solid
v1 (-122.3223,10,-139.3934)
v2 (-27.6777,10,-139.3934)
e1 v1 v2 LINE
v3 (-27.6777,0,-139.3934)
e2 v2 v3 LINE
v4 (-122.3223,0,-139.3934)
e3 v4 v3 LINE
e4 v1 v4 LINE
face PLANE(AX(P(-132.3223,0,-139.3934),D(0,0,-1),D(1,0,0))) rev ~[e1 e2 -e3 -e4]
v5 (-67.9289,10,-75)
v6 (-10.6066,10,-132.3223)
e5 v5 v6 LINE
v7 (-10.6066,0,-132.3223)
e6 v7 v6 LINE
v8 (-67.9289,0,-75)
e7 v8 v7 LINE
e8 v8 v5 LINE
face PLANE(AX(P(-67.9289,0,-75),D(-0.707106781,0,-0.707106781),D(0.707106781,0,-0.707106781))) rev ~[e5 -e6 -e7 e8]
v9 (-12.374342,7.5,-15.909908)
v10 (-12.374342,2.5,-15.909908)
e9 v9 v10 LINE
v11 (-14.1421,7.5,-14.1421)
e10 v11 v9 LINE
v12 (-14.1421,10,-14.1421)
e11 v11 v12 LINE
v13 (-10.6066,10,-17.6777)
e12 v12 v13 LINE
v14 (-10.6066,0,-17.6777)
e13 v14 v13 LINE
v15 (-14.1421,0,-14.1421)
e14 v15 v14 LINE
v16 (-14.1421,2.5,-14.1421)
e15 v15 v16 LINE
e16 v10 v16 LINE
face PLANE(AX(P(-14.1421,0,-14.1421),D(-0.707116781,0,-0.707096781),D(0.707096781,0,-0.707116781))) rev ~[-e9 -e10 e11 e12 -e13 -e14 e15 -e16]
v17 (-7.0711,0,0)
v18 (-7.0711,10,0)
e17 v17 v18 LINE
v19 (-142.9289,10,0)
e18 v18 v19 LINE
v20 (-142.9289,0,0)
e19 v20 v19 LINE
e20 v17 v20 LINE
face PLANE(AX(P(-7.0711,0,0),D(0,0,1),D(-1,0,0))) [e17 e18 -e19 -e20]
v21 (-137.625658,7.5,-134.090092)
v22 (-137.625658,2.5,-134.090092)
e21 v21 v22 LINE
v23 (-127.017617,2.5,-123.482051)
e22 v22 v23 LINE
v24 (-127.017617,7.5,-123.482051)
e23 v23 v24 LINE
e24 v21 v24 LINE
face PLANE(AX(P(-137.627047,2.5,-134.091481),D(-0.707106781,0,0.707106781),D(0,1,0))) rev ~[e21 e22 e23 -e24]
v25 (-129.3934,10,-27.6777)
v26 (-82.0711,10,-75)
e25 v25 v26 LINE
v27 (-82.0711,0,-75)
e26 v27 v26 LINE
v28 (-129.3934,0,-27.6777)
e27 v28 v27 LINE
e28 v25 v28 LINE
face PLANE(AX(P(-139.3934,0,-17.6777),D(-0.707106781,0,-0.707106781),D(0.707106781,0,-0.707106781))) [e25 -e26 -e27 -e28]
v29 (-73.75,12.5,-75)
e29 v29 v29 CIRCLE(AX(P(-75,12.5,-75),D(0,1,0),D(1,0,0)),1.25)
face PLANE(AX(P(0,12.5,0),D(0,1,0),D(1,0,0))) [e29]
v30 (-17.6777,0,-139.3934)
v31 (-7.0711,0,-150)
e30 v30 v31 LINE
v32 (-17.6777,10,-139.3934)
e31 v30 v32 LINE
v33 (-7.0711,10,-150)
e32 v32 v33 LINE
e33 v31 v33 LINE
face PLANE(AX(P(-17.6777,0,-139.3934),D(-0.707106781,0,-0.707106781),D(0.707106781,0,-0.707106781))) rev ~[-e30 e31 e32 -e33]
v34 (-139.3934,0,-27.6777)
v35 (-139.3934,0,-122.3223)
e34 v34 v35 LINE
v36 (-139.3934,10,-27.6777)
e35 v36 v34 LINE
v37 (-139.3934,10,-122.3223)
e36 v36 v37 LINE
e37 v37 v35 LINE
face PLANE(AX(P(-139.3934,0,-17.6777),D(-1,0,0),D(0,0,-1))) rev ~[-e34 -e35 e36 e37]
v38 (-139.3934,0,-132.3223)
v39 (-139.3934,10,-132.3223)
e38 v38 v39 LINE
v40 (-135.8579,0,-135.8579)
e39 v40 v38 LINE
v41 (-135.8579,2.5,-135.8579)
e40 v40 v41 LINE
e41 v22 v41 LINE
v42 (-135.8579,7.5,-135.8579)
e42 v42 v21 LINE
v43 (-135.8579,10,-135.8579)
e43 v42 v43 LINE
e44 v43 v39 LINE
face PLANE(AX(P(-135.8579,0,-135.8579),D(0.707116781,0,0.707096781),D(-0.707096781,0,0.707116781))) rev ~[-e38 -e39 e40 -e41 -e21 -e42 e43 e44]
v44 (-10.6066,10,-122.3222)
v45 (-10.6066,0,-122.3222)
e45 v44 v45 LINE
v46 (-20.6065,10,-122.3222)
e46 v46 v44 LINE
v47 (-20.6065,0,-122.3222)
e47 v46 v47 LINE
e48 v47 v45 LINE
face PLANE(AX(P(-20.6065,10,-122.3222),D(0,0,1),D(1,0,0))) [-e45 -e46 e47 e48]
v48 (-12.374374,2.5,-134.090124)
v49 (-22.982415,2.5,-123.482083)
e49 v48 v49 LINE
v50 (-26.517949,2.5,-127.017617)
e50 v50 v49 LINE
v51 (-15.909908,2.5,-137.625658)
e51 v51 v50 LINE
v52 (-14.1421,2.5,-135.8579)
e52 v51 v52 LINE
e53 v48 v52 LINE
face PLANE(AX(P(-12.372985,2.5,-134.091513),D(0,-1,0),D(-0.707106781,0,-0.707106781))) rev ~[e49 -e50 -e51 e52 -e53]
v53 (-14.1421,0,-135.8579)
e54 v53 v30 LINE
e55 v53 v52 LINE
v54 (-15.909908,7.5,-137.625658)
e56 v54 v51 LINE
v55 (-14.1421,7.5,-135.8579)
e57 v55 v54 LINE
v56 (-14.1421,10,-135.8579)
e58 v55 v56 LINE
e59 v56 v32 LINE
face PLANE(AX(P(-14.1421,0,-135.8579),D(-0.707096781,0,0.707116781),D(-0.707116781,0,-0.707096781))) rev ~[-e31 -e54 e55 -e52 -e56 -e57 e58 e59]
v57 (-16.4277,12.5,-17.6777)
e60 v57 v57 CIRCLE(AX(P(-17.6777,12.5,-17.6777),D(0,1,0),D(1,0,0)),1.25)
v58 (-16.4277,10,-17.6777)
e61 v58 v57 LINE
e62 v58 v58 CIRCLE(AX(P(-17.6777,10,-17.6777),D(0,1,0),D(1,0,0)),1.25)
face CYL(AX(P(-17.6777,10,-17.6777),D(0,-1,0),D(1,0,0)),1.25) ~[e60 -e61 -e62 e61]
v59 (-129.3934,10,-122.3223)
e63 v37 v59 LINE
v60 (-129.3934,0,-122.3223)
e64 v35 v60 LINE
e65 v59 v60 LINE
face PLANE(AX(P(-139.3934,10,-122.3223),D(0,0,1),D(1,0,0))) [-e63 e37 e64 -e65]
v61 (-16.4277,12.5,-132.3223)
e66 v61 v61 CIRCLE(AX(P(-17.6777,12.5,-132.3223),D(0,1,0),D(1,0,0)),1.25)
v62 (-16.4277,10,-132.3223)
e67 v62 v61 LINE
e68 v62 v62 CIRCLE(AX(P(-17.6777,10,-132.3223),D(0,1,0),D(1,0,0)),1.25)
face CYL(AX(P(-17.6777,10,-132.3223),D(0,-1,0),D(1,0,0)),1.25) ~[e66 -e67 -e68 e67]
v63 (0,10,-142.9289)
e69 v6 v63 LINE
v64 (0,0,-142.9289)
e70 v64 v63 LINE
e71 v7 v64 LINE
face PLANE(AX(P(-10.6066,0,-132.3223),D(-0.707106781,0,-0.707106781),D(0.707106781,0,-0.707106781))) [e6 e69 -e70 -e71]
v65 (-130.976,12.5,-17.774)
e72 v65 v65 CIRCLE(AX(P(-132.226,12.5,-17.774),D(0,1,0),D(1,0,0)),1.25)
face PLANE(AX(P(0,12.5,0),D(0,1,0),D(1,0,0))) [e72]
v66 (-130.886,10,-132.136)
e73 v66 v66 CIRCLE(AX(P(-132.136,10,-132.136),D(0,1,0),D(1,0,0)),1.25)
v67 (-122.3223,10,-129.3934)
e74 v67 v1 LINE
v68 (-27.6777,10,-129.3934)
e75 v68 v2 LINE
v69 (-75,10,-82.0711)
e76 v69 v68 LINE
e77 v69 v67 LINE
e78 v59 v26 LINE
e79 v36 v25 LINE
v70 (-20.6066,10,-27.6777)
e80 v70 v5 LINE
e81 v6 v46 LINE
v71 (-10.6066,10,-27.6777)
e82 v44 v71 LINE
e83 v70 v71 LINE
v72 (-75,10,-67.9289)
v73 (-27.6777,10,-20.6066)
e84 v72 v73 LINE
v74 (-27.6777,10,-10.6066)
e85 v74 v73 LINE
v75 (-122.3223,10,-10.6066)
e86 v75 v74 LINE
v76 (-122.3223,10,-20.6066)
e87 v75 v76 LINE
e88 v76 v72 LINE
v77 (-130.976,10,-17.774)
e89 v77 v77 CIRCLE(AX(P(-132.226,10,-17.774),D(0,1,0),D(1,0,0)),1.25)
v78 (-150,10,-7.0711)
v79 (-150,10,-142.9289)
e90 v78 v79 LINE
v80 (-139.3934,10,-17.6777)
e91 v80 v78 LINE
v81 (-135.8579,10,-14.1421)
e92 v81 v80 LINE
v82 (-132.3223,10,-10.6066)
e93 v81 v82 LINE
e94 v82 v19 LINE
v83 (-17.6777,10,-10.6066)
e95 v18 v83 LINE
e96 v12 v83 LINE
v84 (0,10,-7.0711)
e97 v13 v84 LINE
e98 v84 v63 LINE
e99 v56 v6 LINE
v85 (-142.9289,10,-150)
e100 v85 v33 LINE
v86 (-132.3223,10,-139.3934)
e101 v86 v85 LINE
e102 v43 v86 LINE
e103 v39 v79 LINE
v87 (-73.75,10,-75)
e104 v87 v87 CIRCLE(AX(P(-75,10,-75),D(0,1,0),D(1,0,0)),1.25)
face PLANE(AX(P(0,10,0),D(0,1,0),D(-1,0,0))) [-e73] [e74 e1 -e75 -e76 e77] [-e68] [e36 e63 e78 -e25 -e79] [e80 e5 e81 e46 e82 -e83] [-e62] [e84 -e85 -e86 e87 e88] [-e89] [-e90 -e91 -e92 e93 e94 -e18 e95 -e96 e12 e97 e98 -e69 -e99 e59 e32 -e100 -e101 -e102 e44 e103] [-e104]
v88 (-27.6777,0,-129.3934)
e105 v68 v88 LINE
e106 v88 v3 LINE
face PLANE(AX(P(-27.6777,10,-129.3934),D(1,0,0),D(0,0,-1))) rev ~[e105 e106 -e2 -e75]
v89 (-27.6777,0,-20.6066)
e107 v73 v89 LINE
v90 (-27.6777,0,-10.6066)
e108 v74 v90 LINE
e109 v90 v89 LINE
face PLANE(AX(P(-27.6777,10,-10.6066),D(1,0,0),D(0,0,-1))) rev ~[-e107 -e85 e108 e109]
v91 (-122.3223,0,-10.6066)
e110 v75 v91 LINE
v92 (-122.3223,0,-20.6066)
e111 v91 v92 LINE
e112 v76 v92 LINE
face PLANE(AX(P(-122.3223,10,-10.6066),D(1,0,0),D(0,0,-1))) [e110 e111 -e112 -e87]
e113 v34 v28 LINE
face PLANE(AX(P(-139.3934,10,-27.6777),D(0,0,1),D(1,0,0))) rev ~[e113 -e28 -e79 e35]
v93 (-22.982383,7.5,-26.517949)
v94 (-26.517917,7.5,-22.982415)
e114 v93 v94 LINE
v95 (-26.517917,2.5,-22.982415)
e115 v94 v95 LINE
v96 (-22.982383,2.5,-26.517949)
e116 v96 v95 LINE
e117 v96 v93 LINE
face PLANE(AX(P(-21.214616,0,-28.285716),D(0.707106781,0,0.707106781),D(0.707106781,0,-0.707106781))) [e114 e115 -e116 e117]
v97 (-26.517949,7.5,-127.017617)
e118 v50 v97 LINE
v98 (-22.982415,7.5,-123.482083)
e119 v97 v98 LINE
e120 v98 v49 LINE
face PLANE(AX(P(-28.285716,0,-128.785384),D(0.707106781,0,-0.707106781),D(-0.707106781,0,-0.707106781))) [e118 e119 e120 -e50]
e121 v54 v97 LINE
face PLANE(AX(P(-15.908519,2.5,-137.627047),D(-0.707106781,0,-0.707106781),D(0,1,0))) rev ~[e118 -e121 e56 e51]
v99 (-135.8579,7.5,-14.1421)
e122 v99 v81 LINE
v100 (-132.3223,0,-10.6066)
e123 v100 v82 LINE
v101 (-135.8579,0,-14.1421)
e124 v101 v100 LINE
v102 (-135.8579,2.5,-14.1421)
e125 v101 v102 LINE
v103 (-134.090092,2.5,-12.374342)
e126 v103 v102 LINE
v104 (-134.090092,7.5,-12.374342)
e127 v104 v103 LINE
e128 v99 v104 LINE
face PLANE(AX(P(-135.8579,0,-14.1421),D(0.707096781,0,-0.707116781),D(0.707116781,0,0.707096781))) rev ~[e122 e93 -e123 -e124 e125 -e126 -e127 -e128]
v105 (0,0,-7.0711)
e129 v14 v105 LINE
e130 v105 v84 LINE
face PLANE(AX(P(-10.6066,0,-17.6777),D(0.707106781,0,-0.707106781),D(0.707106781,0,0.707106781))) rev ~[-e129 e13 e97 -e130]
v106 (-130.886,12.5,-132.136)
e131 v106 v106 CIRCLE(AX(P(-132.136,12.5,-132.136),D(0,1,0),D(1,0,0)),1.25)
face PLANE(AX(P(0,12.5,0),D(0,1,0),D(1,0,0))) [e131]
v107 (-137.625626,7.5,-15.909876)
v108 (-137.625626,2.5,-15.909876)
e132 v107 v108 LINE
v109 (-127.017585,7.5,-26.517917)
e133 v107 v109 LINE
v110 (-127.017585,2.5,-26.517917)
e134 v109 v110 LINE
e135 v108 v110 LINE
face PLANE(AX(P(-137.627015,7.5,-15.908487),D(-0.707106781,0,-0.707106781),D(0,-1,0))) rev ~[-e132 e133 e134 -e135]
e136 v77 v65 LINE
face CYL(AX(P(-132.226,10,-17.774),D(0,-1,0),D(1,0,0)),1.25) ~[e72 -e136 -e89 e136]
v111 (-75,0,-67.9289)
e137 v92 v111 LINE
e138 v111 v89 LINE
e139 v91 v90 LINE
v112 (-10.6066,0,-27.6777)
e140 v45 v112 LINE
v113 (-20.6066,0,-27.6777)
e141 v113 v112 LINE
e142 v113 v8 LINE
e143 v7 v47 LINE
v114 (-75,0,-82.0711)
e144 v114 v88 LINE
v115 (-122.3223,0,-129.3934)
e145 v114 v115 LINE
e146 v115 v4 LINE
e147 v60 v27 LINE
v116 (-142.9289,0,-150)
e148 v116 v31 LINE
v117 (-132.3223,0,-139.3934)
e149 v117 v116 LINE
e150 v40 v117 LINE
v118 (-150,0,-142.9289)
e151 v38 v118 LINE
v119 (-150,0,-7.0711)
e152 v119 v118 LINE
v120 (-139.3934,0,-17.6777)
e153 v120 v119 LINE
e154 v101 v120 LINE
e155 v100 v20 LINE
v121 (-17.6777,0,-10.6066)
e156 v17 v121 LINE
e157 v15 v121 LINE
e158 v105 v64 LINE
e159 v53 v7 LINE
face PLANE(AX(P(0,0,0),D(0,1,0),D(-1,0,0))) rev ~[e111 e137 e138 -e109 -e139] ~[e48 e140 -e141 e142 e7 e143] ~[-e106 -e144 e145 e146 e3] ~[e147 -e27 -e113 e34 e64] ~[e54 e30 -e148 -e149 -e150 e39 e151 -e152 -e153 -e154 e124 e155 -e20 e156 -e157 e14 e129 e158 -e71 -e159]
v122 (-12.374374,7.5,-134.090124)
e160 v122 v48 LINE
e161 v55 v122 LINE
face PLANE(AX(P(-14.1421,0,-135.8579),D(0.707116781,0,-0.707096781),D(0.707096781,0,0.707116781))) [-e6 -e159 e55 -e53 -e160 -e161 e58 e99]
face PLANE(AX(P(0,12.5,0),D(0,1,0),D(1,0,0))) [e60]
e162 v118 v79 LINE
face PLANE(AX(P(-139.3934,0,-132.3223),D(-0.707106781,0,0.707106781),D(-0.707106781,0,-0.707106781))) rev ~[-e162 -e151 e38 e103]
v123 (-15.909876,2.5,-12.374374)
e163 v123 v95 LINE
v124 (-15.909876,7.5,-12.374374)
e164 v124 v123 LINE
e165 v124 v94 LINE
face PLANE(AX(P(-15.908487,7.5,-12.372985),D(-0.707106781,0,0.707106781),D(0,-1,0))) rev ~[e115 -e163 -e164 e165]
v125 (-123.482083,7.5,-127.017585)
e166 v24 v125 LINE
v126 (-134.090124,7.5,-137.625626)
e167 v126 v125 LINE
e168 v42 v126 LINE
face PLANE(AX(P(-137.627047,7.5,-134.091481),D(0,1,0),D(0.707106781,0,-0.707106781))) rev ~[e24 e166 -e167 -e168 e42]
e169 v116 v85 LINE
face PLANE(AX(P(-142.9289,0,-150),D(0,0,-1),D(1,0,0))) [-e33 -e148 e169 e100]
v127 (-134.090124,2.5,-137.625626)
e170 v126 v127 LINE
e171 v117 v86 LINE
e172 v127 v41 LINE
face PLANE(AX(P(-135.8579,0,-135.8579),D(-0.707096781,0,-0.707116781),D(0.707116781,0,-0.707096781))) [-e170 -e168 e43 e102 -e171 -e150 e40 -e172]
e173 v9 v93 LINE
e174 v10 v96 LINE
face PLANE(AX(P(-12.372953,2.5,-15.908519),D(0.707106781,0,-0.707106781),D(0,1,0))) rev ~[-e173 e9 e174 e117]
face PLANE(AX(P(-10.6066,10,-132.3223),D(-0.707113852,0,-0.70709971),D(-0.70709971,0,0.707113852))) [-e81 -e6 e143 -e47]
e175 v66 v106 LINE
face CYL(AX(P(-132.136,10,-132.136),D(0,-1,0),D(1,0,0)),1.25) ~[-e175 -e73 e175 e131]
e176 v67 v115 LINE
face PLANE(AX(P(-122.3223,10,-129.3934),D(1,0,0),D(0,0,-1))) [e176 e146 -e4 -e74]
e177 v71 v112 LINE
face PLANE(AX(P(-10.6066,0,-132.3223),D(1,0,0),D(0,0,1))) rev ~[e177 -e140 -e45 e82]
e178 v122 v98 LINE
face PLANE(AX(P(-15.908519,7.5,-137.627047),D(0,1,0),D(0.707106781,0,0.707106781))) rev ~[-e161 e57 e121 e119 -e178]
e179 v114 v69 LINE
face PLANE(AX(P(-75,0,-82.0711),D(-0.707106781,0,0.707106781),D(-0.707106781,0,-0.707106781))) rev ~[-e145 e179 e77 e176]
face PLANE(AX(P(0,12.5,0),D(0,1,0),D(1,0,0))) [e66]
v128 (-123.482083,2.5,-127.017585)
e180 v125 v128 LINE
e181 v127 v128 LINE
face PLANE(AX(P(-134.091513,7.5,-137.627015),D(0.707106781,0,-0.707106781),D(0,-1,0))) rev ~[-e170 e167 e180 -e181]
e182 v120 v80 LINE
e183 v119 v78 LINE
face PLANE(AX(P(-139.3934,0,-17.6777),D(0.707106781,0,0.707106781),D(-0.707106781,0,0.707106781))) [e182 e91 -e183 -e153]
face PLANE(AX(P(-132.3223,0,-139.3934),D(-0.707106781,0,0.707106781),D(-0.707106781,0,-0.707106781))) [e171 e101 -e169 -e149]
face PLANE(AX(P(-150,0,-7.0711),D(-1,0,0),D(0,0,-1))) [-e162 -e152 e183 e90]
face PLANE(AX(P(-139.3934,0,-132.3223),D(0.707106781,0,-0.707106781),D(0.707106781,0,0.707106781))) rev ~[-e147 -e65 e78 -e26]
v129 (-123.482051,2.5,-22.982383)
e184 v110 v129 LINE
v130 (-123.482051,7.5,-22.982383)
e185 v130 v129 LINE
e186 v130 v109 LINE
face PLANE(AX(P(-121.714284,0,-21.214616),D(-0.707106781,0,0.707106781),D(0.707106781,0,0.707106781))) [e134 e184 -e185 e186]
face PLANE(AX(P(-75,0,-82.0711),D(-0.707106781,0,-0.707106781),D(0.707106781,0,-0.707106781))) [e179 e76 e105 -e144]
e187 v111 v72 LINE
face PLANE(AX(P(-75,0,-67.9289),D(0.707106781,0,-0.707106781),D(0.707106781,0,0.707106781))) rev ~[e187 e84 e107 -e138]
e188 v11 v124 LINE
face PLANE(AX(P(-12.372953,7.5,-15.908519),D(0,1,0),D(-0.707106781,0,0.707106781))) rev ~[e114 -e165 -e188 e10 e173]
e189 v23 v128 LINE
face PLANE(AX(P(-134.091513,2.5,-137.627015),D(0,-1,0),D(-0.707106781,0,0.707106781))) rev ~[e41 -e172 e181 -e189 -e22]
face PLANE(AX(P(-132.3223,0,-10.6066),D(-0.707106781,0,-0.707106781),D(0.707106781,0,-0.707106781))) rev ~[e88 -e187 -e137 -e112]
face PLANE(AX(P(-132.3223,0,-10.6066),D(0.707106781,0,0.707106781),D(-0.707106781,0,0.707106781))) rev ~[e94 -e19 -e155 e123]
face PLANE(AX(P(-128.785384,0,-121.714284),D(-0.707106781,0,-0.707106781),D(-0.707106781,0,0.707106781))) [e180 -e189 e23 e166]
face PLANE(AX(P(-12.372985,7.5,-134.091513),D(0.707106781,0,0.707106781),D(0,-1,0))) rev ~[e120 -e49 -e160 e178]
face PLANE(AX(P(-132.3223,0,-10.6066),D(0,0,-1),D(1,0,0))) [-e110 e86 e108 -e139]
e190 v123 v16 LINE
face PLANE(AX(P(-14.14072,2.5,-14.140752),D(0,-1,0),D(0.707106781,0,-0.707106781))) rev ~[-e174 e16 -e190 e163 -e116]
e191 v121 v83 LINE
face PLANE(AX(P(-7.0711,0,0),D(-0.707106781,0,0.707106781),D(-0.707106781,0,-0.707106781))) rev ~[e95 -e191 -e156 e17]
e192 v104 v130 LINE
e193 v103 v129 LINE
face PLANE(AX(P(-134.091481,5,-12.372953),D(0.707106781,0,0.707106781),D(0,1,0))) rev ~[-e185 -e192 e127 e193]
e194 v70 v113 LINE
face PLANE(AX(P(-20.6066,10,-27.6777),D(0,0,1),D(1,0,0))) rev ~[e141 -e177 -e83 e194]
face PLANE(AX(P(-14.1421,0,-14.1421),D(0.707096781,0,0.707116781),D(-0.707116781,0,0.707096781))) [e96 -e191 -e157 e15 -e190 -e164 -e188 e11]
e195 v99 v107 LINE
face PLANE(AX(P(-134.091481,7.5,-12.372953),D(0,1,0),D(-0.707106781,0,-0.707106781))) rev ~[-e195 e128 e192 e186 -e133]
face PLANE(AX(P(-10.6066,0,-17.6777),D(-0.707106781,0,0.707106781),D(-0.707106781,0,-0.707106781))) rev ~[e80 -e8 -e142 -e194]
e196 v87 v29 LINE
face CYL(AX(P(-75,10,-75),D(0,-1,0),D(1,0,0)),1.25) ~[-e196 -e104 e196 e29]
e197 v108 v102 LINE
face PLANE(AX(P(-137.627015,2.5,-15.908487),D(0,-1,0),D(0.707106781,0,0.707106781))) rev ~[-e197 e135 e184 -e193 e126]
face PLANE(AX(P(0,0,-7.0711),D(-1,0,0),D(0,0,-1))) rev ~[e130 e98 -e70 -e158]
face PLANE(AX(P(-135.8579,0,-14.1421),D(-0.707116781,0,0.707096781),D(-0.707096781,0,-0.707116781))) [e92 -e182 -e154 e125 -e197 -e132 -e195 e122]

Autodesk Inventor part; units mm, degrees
ref_plane "YZ Plane" through (0, 0, 0) normal (1, 0, 0) x (0, 1, 0)
ref_plane "XZ Plane" through (0, 0, 0) normal (0, 1, 0) x (-1, 0, 0)
ref_plane "XY Plane" through (0, 0, 0) normal (0, 0, 1) x (1, 0, 0)
sketch "Sketch1" plane through (0, 0, 0) normal (0, 1, 0) x (-1, 0, 0)
  line L0 (0, -7.0711) -> (0, -142.9289)
  line L1 (7.0711, 0) -> (142.9289, 0)
  line L2 (150, -7.0711) -> (150, -142.9289)
  line L3 (142.9289, -150) -> (7.0711, -150)
  line L4 (139.3934, -10.6066) -> (135.8579, -14.1421)
  line L5 (135.8579, -14.1421) -> (132.3223, -10.6066)
  line L6 (132.3223, -10.6066) -> (135.8579, -14.1421)
  line L7 (135.8579, -14.1421) -> (139.3934, -17.6777)
  line L8 (139.3934, -17.6777) -> (150, -7.0711)
  line L9 (132.3223, -10.6066) -> (142.9289, 0)
  line L10 (139.3934, -139.3934) -> (135.8579, -135.8579)
  line L11 (135.8579, -135.8579) -> (132.3223, -139.3934)
  line L12 (132.3223, -139.3934) -> (142.9289, -150)
  line L13 (135.8579, -135.8579) -> (139.3934, -132.3223)
  line L14 (139.3934, -132.3223) -> (150, -142.9289)
  line L15 (10.6066, -139.3934) -> (14.1421, -135.8579)
  line L16 (14.1421, -135.8579) -> (10.6066, -132.3223)
  line L17 (10.6066, -132.3223) -> (14.1421, -135.8579)
  line L18 (14.1421, -135.8579) -> (17.6777, -139.3934)
  line L19 (17.6777, -139.3934) -> (7.0711, -150)
  line L20 (10.6066, -132.3223) -> (0, -142.9289)
  line L21 (10.6066, -10.6066) -> (14.1421, -14.1421)
  line L22 (14.1421, -14.1421) -> (10.6066, -17.6777)
  line L23 (10.6066, -17.6777) -> (14.1421, -14.1421)
  line L24 (14.1421, -14.1421) -> (17.6777, -10.6066)
  line L25 (7.0711, 0) -> (17.6777, -10.6066)
  line L26 (10.6066, -17.6777) -> (0, -7.0711)
  line L27 (132.3223, -10.6066) -> (75, -67.9289)
  line L28 (67.9289, -75) -> (10.6066, -132.3223)
  line L29 (132.3223, -10.6066) -> (17.6777, -10.6066)
  line L30 (139.3934, -17.6777) -> (139.3934, -132.3223)
  line L31 (132.3223, -139.3934) -> (17.6777, -139.3934)
  line L32 (10.6066, -132.3223) -> (10.6066, -17.6777)
  line L33 (139.3934, -10.6066) -> (135.8579, -14.1421)
  line L34 (14.1421, -135.8579) -> (0, -150)
  line L35 (10.6066, -10.6066) -> (14.1421, -14.1421)
  line L36 (135.8579, -135.8579) -> (139.3934, -139.3934)
  line L37 (139.3934, -132.3223) -> (82.0711, -75)
  line L38 (75, -67.9289) -> (17.6777, -10.6066)
  line L39 (10.6066, -17.6777) -> (67.9289, -75)
  line L40 (75, -82.0711) -> (132.3223, -139.3934)
  line L41 (139.3934, -17.6777) -> (82.0711, -75)
  line L42 (75, -82.0711) -> (17.6777, -139.3934)
  point P0 (0, 0)
  dimension "d0" = 150
extrude "Extrusion1" add sketch "Sketch1" along normal blind 10 contours L26 L32 L20 L0 | L22 L24 L38 L27 L5 L7 L41 L37 L13 L11 L40 L42 L18 L16 L28 L39 | L25 L1 L9 L29 | L31 L12 L3 L19 | L8 L2 L14 L30
sketch "Sketch2" plane through (0, 10, 0) normal (0, 1, 0) x (1, 0, 0)
  line L0 (-17.6777, 10.6066) -> (-27.6777, 10.6066)
  line L1 (-17.6777, 10.6066) -> (-132.3223, 10.6066) projected
  line L2 (-27.6777, 10.6066) -> (-27.6777, 20.6066)
  line L3 (-75, 67.9289) -> (-17.6777, 10.6066) projected
  line L4 (-10.6066, 17.6777) -> (-67.9289, 75) projected
  line L5 (-20.6066, 27.6777) -> (-10.6066, 27.6777)
  line L6 (-10.6066, 27.6777) -> (-10.6066, 17.6777)
  line L7 (-10.6066, 132.3223) -> (-10.6066, 17.6777) projected
  line L8 (-132.3223, 10.6066) -> (-75, 67.9289) projected
  line L9 (-132.3223, 10.6066) -> (-122.3223, 10.6066)
  line L10 (-122.3223, 10.6066) -> (-122.3223, 20.6066)
  line L11 (-122.3223, 20.6066) -> (-129.3934, 27.6777)
  line L12 (-82.0711, 75) -> (-139.3934, 17.6777) projected
  line L13 (-139.3934, 27.6777) -> (-129.3934, 27.6777)
  line L14 (-139.3934, 17.6777) -> (-139.3934, 132.3223) projected
  line L15 (-139.3934, 27.6777) -> (-139.3934, 17.6777)
  line L16 (-139.3934, 17.6777) -> (-129.3934, 27.6777)
  line L17 (-132.3223, 10.6066) -> (-122.3223, 20.6066)
  line L18 (-139.3934, 132.3223) -> (-139.3934, 122.3223)
  line L19 (-139.3934, 122.3223) -> (-129.3934, 122.3223)
  line L20 (-139.3934, 132.3223) -> (-82.0711, 75) projected
  line L21 (-129.3934, 122.3223) -> (-122.3223, 129.3934)
  line L22 (-75, 82.0711) -> (-132.3223, 139.3934) projected
  line L23 (-122.3223, 129.3934) -> (-122.3223, 139.3934)
  line L24 (-132.3223, 139.3934) -> (-17.6777, 139.3934) projected
  line L25 (-122.3223, 139.3934) -> (-132.3223, 139.3934)
  line L26 (-17.6777, 139.3934) -> (-75, 82.0711) projected
  line L27 (-17.6777, 139.3934) -> (-27.6777, 139.3934)
  line L28 (-27.6777, 129.3934) -> (-27.6777, 139.3934)
  line L29 (-27.6777, 129.3934) -> (-20.6065, 122.3222)
  line L30 (-20.6065, 122.3222) -> (-10.6066, 122.3222)
  line L31 (-10.6066, 132.3223) -> (-20.6065, 122.3222)
  line L32 (-10.6066, 17.6777) -> (-20.6066, 27.6777)
  line L33 (-27.6777, 20.6066) -> (-17.6777, 10.6066)
  line L34 (-10.6066, 17.6777) -> (-10.6066, 27.6777)
  line L35 (-20.6066, 27.6777) -> (-10.6066, 17.6777)
  point P0 (0, 0)
  dimension "d9" = 10
  dimension "d10" = 10
  dimension "d11" = 10
extrude "Extrusion2" add sketch "Sketch2" against normal blind 10 contours L6 L4 L5 | L31 L7 L30 | L22 L24 L23 | L12 L14 L13 | L0 L2 L3 | L1 L8 L10 | L19 L14 L20 | L28 L24 L26
sketch "Sketch3" plane through (0, 10, 0) normal (0, 1, 0) x (1, 0, 0)
  line L0 (-67.9289, 75) -> (-10.6066, 132.3223) projected
  line L1 (-82.0711, 75) -> (-75, 67.9289)
  circle A0 centre (-75, 75) radius 1.25
  line L2 (-75, 82.0711) -> (-122.3223, 129.3934) projected
  line L3 (-82.0711, 75) -> (-129.3934, 27.6777) projected
  line L4 (-17.6777, 10.6066) -> (-10.6066, 17.6777) projected
  line L5 (-14.1421, 14.1421) -> (-17.6777, 10.6066)
  line L6 (-17.6777, 10.6066) -> (-14.1421, 14.1421)
  line L7 (-14.1421, 14.1421) -> (-17.6777, 10.6066)
  line L8 (-20.6066, 27.6777) -> (-67.9289, 75) projected
  line L9 (-10.6066, 132.3223) -> (-17.6777, 139.3934) projected
  circle A1 centre (-132.226, 17.774) radius 1.25
  circle A2 centre (-132.136, 132.136) radius 1.25
  circle A3 centre (-17.6777, 132.3223) radius 1.25
  circle A4 centre (-17.6777, 17.6777) radius 1.25
  point P0 (0, 0)
  dimension "d14" = 2.5
  dimension "d21" = 2.5
extrude "Extrusion3" add sketch "Sketch3" along normal blind 2.5
sketch "Sketch4" plane through (-10.6066, 0, -17.6777) normal (0.7071, 0, 0.7071) x (0.7071, 0, -0.7071)
  line L0 (-5, 0) -> (-5, 2.5)
  line L1 (-5, 2.5) -> (-2.5, 2.5)
  line L2 (-2.5, 2.5) -> (-2.5, 7.5)
  line L3 (-2.5, 7.5) -> (-7.5, 7.5)
  line L4 (-7.5, 7.5) -> (-7.5, 2.5)
  line L5 (-7.5, 2.5) -> (-5, 2.5)
  dimension "d25" = 2.5
  dimension "d26" = 2.5
  dimension "d27" = 5
  dimension "d28" = 5
extrude "Extrusion4" cut sketch "Sketch4" against normal blind 15
sketch "Sketch5" plane through (-132.3223, 0, -10.6066) normal (-0.7071, 0, 0.7071) x (0.7071, 0, 0.7071)
  line L0 (0, 0) -> (0, 10) projected
  line L1 (0, 0) -> (0, 5)
  line L2 (0, 5) -> (-2.5, 5)
  line L3 (-2.5, 5) -> (0, 5)
  line L4 (-2.5, 5) -> (-2.5, 7.5)
  line L5 (-2.5, 7.5) -> (-7.5, 7.5)
  line L6 (-7.5, 7.5) -> (-7.5, 2.5)
  line L7 (-7.5, 2.5) -> (-2.5, 2.5)
  line L8 (-2.5, 2.5) -> (-2.5, 5)
  point P0 (101.066, 0)
  dimension "d31" = 5
  dimension "d32" = 2.5
  dimension "d33" = 2.5
  dimension "d34" = 5
extrude "Extrusion5" cut sketch "Sketch5" against normal blind 15
sketch "Sketch6" plane through (-139.3934, 0, -132.3223) normal (-0.7071, 0, -0.7071) x (-0.7071, 0, 0.7071)
  line L0 (-5, 0) -> (-5, 2.5)
  line L1 (-7.5, 2.5) -> (-2.5, 2.5) projected
  line L2 (-5, 2.5) -> (-2.5, 2.5)
  line L3 (-2.5, 2.5) -> (-2.5, 7.5) projected
  line L4 (-2.5, 2.5) -> (-2.5, 7.5)
  line L5 (-2.5, 7.5) -> (-7.5, 7.5) projected
  line L6 (-2.5, 7.5) -> (-7.5, 7.5)
  line L7 (-7.5, 7.5) -> (-7.5, 2.5)
  line L8 (-7.5, 2.5) -> (-5, 2.5)
  dimension "d37" = 2.5
extrude "Extrusion6" cut sketch "Sketch6" against normal blind 15
sketch "Sketch7" plane through (-17.6777, 0, -139.3934) normal (0.7071, 0, -0.7071) x (-0.7071, 0, -0.7071)
  line L0 (0, 0) -> (-5, 0)
  line L1 (-10, 0) -> (0, 0) projected
  line L2 (-5, 0) -> (-5, 2.5)
  line L3 (-7.5, 2.5) -> (-2.5, 2.5) projected
  line L4 (-2.5, 2.5) -> (-2.5, 7.5) projected
  line L5 (-2.5, 2.5) -> (-2.5, 7.5)
  line L6 (-2.5, 7.5) -> (-7.5, 7.5) projected
  line L7 (-2.5, 7.5) -> (-7.5, 7.5)
  line L8 (-7.5, 7.5) -> (-7.5, 2.5) projected
  line L9 (-7.5, 7.5) -> (-7.5, 2.5)
  line L10 (-7.5, 2.5) -> (-5, 2.5)
  point P0 (-111.066, 0)
  dimension "d40" = 5
extrude "Extrusion7" cut sketch "Sketch7" against normal blind 15
sketch "Sketch8" plane through (0, 10, 0) normal (0, 1, 0) x (1, 0, 0)
  point P0 (0, 0)
properties part number "Frame"
